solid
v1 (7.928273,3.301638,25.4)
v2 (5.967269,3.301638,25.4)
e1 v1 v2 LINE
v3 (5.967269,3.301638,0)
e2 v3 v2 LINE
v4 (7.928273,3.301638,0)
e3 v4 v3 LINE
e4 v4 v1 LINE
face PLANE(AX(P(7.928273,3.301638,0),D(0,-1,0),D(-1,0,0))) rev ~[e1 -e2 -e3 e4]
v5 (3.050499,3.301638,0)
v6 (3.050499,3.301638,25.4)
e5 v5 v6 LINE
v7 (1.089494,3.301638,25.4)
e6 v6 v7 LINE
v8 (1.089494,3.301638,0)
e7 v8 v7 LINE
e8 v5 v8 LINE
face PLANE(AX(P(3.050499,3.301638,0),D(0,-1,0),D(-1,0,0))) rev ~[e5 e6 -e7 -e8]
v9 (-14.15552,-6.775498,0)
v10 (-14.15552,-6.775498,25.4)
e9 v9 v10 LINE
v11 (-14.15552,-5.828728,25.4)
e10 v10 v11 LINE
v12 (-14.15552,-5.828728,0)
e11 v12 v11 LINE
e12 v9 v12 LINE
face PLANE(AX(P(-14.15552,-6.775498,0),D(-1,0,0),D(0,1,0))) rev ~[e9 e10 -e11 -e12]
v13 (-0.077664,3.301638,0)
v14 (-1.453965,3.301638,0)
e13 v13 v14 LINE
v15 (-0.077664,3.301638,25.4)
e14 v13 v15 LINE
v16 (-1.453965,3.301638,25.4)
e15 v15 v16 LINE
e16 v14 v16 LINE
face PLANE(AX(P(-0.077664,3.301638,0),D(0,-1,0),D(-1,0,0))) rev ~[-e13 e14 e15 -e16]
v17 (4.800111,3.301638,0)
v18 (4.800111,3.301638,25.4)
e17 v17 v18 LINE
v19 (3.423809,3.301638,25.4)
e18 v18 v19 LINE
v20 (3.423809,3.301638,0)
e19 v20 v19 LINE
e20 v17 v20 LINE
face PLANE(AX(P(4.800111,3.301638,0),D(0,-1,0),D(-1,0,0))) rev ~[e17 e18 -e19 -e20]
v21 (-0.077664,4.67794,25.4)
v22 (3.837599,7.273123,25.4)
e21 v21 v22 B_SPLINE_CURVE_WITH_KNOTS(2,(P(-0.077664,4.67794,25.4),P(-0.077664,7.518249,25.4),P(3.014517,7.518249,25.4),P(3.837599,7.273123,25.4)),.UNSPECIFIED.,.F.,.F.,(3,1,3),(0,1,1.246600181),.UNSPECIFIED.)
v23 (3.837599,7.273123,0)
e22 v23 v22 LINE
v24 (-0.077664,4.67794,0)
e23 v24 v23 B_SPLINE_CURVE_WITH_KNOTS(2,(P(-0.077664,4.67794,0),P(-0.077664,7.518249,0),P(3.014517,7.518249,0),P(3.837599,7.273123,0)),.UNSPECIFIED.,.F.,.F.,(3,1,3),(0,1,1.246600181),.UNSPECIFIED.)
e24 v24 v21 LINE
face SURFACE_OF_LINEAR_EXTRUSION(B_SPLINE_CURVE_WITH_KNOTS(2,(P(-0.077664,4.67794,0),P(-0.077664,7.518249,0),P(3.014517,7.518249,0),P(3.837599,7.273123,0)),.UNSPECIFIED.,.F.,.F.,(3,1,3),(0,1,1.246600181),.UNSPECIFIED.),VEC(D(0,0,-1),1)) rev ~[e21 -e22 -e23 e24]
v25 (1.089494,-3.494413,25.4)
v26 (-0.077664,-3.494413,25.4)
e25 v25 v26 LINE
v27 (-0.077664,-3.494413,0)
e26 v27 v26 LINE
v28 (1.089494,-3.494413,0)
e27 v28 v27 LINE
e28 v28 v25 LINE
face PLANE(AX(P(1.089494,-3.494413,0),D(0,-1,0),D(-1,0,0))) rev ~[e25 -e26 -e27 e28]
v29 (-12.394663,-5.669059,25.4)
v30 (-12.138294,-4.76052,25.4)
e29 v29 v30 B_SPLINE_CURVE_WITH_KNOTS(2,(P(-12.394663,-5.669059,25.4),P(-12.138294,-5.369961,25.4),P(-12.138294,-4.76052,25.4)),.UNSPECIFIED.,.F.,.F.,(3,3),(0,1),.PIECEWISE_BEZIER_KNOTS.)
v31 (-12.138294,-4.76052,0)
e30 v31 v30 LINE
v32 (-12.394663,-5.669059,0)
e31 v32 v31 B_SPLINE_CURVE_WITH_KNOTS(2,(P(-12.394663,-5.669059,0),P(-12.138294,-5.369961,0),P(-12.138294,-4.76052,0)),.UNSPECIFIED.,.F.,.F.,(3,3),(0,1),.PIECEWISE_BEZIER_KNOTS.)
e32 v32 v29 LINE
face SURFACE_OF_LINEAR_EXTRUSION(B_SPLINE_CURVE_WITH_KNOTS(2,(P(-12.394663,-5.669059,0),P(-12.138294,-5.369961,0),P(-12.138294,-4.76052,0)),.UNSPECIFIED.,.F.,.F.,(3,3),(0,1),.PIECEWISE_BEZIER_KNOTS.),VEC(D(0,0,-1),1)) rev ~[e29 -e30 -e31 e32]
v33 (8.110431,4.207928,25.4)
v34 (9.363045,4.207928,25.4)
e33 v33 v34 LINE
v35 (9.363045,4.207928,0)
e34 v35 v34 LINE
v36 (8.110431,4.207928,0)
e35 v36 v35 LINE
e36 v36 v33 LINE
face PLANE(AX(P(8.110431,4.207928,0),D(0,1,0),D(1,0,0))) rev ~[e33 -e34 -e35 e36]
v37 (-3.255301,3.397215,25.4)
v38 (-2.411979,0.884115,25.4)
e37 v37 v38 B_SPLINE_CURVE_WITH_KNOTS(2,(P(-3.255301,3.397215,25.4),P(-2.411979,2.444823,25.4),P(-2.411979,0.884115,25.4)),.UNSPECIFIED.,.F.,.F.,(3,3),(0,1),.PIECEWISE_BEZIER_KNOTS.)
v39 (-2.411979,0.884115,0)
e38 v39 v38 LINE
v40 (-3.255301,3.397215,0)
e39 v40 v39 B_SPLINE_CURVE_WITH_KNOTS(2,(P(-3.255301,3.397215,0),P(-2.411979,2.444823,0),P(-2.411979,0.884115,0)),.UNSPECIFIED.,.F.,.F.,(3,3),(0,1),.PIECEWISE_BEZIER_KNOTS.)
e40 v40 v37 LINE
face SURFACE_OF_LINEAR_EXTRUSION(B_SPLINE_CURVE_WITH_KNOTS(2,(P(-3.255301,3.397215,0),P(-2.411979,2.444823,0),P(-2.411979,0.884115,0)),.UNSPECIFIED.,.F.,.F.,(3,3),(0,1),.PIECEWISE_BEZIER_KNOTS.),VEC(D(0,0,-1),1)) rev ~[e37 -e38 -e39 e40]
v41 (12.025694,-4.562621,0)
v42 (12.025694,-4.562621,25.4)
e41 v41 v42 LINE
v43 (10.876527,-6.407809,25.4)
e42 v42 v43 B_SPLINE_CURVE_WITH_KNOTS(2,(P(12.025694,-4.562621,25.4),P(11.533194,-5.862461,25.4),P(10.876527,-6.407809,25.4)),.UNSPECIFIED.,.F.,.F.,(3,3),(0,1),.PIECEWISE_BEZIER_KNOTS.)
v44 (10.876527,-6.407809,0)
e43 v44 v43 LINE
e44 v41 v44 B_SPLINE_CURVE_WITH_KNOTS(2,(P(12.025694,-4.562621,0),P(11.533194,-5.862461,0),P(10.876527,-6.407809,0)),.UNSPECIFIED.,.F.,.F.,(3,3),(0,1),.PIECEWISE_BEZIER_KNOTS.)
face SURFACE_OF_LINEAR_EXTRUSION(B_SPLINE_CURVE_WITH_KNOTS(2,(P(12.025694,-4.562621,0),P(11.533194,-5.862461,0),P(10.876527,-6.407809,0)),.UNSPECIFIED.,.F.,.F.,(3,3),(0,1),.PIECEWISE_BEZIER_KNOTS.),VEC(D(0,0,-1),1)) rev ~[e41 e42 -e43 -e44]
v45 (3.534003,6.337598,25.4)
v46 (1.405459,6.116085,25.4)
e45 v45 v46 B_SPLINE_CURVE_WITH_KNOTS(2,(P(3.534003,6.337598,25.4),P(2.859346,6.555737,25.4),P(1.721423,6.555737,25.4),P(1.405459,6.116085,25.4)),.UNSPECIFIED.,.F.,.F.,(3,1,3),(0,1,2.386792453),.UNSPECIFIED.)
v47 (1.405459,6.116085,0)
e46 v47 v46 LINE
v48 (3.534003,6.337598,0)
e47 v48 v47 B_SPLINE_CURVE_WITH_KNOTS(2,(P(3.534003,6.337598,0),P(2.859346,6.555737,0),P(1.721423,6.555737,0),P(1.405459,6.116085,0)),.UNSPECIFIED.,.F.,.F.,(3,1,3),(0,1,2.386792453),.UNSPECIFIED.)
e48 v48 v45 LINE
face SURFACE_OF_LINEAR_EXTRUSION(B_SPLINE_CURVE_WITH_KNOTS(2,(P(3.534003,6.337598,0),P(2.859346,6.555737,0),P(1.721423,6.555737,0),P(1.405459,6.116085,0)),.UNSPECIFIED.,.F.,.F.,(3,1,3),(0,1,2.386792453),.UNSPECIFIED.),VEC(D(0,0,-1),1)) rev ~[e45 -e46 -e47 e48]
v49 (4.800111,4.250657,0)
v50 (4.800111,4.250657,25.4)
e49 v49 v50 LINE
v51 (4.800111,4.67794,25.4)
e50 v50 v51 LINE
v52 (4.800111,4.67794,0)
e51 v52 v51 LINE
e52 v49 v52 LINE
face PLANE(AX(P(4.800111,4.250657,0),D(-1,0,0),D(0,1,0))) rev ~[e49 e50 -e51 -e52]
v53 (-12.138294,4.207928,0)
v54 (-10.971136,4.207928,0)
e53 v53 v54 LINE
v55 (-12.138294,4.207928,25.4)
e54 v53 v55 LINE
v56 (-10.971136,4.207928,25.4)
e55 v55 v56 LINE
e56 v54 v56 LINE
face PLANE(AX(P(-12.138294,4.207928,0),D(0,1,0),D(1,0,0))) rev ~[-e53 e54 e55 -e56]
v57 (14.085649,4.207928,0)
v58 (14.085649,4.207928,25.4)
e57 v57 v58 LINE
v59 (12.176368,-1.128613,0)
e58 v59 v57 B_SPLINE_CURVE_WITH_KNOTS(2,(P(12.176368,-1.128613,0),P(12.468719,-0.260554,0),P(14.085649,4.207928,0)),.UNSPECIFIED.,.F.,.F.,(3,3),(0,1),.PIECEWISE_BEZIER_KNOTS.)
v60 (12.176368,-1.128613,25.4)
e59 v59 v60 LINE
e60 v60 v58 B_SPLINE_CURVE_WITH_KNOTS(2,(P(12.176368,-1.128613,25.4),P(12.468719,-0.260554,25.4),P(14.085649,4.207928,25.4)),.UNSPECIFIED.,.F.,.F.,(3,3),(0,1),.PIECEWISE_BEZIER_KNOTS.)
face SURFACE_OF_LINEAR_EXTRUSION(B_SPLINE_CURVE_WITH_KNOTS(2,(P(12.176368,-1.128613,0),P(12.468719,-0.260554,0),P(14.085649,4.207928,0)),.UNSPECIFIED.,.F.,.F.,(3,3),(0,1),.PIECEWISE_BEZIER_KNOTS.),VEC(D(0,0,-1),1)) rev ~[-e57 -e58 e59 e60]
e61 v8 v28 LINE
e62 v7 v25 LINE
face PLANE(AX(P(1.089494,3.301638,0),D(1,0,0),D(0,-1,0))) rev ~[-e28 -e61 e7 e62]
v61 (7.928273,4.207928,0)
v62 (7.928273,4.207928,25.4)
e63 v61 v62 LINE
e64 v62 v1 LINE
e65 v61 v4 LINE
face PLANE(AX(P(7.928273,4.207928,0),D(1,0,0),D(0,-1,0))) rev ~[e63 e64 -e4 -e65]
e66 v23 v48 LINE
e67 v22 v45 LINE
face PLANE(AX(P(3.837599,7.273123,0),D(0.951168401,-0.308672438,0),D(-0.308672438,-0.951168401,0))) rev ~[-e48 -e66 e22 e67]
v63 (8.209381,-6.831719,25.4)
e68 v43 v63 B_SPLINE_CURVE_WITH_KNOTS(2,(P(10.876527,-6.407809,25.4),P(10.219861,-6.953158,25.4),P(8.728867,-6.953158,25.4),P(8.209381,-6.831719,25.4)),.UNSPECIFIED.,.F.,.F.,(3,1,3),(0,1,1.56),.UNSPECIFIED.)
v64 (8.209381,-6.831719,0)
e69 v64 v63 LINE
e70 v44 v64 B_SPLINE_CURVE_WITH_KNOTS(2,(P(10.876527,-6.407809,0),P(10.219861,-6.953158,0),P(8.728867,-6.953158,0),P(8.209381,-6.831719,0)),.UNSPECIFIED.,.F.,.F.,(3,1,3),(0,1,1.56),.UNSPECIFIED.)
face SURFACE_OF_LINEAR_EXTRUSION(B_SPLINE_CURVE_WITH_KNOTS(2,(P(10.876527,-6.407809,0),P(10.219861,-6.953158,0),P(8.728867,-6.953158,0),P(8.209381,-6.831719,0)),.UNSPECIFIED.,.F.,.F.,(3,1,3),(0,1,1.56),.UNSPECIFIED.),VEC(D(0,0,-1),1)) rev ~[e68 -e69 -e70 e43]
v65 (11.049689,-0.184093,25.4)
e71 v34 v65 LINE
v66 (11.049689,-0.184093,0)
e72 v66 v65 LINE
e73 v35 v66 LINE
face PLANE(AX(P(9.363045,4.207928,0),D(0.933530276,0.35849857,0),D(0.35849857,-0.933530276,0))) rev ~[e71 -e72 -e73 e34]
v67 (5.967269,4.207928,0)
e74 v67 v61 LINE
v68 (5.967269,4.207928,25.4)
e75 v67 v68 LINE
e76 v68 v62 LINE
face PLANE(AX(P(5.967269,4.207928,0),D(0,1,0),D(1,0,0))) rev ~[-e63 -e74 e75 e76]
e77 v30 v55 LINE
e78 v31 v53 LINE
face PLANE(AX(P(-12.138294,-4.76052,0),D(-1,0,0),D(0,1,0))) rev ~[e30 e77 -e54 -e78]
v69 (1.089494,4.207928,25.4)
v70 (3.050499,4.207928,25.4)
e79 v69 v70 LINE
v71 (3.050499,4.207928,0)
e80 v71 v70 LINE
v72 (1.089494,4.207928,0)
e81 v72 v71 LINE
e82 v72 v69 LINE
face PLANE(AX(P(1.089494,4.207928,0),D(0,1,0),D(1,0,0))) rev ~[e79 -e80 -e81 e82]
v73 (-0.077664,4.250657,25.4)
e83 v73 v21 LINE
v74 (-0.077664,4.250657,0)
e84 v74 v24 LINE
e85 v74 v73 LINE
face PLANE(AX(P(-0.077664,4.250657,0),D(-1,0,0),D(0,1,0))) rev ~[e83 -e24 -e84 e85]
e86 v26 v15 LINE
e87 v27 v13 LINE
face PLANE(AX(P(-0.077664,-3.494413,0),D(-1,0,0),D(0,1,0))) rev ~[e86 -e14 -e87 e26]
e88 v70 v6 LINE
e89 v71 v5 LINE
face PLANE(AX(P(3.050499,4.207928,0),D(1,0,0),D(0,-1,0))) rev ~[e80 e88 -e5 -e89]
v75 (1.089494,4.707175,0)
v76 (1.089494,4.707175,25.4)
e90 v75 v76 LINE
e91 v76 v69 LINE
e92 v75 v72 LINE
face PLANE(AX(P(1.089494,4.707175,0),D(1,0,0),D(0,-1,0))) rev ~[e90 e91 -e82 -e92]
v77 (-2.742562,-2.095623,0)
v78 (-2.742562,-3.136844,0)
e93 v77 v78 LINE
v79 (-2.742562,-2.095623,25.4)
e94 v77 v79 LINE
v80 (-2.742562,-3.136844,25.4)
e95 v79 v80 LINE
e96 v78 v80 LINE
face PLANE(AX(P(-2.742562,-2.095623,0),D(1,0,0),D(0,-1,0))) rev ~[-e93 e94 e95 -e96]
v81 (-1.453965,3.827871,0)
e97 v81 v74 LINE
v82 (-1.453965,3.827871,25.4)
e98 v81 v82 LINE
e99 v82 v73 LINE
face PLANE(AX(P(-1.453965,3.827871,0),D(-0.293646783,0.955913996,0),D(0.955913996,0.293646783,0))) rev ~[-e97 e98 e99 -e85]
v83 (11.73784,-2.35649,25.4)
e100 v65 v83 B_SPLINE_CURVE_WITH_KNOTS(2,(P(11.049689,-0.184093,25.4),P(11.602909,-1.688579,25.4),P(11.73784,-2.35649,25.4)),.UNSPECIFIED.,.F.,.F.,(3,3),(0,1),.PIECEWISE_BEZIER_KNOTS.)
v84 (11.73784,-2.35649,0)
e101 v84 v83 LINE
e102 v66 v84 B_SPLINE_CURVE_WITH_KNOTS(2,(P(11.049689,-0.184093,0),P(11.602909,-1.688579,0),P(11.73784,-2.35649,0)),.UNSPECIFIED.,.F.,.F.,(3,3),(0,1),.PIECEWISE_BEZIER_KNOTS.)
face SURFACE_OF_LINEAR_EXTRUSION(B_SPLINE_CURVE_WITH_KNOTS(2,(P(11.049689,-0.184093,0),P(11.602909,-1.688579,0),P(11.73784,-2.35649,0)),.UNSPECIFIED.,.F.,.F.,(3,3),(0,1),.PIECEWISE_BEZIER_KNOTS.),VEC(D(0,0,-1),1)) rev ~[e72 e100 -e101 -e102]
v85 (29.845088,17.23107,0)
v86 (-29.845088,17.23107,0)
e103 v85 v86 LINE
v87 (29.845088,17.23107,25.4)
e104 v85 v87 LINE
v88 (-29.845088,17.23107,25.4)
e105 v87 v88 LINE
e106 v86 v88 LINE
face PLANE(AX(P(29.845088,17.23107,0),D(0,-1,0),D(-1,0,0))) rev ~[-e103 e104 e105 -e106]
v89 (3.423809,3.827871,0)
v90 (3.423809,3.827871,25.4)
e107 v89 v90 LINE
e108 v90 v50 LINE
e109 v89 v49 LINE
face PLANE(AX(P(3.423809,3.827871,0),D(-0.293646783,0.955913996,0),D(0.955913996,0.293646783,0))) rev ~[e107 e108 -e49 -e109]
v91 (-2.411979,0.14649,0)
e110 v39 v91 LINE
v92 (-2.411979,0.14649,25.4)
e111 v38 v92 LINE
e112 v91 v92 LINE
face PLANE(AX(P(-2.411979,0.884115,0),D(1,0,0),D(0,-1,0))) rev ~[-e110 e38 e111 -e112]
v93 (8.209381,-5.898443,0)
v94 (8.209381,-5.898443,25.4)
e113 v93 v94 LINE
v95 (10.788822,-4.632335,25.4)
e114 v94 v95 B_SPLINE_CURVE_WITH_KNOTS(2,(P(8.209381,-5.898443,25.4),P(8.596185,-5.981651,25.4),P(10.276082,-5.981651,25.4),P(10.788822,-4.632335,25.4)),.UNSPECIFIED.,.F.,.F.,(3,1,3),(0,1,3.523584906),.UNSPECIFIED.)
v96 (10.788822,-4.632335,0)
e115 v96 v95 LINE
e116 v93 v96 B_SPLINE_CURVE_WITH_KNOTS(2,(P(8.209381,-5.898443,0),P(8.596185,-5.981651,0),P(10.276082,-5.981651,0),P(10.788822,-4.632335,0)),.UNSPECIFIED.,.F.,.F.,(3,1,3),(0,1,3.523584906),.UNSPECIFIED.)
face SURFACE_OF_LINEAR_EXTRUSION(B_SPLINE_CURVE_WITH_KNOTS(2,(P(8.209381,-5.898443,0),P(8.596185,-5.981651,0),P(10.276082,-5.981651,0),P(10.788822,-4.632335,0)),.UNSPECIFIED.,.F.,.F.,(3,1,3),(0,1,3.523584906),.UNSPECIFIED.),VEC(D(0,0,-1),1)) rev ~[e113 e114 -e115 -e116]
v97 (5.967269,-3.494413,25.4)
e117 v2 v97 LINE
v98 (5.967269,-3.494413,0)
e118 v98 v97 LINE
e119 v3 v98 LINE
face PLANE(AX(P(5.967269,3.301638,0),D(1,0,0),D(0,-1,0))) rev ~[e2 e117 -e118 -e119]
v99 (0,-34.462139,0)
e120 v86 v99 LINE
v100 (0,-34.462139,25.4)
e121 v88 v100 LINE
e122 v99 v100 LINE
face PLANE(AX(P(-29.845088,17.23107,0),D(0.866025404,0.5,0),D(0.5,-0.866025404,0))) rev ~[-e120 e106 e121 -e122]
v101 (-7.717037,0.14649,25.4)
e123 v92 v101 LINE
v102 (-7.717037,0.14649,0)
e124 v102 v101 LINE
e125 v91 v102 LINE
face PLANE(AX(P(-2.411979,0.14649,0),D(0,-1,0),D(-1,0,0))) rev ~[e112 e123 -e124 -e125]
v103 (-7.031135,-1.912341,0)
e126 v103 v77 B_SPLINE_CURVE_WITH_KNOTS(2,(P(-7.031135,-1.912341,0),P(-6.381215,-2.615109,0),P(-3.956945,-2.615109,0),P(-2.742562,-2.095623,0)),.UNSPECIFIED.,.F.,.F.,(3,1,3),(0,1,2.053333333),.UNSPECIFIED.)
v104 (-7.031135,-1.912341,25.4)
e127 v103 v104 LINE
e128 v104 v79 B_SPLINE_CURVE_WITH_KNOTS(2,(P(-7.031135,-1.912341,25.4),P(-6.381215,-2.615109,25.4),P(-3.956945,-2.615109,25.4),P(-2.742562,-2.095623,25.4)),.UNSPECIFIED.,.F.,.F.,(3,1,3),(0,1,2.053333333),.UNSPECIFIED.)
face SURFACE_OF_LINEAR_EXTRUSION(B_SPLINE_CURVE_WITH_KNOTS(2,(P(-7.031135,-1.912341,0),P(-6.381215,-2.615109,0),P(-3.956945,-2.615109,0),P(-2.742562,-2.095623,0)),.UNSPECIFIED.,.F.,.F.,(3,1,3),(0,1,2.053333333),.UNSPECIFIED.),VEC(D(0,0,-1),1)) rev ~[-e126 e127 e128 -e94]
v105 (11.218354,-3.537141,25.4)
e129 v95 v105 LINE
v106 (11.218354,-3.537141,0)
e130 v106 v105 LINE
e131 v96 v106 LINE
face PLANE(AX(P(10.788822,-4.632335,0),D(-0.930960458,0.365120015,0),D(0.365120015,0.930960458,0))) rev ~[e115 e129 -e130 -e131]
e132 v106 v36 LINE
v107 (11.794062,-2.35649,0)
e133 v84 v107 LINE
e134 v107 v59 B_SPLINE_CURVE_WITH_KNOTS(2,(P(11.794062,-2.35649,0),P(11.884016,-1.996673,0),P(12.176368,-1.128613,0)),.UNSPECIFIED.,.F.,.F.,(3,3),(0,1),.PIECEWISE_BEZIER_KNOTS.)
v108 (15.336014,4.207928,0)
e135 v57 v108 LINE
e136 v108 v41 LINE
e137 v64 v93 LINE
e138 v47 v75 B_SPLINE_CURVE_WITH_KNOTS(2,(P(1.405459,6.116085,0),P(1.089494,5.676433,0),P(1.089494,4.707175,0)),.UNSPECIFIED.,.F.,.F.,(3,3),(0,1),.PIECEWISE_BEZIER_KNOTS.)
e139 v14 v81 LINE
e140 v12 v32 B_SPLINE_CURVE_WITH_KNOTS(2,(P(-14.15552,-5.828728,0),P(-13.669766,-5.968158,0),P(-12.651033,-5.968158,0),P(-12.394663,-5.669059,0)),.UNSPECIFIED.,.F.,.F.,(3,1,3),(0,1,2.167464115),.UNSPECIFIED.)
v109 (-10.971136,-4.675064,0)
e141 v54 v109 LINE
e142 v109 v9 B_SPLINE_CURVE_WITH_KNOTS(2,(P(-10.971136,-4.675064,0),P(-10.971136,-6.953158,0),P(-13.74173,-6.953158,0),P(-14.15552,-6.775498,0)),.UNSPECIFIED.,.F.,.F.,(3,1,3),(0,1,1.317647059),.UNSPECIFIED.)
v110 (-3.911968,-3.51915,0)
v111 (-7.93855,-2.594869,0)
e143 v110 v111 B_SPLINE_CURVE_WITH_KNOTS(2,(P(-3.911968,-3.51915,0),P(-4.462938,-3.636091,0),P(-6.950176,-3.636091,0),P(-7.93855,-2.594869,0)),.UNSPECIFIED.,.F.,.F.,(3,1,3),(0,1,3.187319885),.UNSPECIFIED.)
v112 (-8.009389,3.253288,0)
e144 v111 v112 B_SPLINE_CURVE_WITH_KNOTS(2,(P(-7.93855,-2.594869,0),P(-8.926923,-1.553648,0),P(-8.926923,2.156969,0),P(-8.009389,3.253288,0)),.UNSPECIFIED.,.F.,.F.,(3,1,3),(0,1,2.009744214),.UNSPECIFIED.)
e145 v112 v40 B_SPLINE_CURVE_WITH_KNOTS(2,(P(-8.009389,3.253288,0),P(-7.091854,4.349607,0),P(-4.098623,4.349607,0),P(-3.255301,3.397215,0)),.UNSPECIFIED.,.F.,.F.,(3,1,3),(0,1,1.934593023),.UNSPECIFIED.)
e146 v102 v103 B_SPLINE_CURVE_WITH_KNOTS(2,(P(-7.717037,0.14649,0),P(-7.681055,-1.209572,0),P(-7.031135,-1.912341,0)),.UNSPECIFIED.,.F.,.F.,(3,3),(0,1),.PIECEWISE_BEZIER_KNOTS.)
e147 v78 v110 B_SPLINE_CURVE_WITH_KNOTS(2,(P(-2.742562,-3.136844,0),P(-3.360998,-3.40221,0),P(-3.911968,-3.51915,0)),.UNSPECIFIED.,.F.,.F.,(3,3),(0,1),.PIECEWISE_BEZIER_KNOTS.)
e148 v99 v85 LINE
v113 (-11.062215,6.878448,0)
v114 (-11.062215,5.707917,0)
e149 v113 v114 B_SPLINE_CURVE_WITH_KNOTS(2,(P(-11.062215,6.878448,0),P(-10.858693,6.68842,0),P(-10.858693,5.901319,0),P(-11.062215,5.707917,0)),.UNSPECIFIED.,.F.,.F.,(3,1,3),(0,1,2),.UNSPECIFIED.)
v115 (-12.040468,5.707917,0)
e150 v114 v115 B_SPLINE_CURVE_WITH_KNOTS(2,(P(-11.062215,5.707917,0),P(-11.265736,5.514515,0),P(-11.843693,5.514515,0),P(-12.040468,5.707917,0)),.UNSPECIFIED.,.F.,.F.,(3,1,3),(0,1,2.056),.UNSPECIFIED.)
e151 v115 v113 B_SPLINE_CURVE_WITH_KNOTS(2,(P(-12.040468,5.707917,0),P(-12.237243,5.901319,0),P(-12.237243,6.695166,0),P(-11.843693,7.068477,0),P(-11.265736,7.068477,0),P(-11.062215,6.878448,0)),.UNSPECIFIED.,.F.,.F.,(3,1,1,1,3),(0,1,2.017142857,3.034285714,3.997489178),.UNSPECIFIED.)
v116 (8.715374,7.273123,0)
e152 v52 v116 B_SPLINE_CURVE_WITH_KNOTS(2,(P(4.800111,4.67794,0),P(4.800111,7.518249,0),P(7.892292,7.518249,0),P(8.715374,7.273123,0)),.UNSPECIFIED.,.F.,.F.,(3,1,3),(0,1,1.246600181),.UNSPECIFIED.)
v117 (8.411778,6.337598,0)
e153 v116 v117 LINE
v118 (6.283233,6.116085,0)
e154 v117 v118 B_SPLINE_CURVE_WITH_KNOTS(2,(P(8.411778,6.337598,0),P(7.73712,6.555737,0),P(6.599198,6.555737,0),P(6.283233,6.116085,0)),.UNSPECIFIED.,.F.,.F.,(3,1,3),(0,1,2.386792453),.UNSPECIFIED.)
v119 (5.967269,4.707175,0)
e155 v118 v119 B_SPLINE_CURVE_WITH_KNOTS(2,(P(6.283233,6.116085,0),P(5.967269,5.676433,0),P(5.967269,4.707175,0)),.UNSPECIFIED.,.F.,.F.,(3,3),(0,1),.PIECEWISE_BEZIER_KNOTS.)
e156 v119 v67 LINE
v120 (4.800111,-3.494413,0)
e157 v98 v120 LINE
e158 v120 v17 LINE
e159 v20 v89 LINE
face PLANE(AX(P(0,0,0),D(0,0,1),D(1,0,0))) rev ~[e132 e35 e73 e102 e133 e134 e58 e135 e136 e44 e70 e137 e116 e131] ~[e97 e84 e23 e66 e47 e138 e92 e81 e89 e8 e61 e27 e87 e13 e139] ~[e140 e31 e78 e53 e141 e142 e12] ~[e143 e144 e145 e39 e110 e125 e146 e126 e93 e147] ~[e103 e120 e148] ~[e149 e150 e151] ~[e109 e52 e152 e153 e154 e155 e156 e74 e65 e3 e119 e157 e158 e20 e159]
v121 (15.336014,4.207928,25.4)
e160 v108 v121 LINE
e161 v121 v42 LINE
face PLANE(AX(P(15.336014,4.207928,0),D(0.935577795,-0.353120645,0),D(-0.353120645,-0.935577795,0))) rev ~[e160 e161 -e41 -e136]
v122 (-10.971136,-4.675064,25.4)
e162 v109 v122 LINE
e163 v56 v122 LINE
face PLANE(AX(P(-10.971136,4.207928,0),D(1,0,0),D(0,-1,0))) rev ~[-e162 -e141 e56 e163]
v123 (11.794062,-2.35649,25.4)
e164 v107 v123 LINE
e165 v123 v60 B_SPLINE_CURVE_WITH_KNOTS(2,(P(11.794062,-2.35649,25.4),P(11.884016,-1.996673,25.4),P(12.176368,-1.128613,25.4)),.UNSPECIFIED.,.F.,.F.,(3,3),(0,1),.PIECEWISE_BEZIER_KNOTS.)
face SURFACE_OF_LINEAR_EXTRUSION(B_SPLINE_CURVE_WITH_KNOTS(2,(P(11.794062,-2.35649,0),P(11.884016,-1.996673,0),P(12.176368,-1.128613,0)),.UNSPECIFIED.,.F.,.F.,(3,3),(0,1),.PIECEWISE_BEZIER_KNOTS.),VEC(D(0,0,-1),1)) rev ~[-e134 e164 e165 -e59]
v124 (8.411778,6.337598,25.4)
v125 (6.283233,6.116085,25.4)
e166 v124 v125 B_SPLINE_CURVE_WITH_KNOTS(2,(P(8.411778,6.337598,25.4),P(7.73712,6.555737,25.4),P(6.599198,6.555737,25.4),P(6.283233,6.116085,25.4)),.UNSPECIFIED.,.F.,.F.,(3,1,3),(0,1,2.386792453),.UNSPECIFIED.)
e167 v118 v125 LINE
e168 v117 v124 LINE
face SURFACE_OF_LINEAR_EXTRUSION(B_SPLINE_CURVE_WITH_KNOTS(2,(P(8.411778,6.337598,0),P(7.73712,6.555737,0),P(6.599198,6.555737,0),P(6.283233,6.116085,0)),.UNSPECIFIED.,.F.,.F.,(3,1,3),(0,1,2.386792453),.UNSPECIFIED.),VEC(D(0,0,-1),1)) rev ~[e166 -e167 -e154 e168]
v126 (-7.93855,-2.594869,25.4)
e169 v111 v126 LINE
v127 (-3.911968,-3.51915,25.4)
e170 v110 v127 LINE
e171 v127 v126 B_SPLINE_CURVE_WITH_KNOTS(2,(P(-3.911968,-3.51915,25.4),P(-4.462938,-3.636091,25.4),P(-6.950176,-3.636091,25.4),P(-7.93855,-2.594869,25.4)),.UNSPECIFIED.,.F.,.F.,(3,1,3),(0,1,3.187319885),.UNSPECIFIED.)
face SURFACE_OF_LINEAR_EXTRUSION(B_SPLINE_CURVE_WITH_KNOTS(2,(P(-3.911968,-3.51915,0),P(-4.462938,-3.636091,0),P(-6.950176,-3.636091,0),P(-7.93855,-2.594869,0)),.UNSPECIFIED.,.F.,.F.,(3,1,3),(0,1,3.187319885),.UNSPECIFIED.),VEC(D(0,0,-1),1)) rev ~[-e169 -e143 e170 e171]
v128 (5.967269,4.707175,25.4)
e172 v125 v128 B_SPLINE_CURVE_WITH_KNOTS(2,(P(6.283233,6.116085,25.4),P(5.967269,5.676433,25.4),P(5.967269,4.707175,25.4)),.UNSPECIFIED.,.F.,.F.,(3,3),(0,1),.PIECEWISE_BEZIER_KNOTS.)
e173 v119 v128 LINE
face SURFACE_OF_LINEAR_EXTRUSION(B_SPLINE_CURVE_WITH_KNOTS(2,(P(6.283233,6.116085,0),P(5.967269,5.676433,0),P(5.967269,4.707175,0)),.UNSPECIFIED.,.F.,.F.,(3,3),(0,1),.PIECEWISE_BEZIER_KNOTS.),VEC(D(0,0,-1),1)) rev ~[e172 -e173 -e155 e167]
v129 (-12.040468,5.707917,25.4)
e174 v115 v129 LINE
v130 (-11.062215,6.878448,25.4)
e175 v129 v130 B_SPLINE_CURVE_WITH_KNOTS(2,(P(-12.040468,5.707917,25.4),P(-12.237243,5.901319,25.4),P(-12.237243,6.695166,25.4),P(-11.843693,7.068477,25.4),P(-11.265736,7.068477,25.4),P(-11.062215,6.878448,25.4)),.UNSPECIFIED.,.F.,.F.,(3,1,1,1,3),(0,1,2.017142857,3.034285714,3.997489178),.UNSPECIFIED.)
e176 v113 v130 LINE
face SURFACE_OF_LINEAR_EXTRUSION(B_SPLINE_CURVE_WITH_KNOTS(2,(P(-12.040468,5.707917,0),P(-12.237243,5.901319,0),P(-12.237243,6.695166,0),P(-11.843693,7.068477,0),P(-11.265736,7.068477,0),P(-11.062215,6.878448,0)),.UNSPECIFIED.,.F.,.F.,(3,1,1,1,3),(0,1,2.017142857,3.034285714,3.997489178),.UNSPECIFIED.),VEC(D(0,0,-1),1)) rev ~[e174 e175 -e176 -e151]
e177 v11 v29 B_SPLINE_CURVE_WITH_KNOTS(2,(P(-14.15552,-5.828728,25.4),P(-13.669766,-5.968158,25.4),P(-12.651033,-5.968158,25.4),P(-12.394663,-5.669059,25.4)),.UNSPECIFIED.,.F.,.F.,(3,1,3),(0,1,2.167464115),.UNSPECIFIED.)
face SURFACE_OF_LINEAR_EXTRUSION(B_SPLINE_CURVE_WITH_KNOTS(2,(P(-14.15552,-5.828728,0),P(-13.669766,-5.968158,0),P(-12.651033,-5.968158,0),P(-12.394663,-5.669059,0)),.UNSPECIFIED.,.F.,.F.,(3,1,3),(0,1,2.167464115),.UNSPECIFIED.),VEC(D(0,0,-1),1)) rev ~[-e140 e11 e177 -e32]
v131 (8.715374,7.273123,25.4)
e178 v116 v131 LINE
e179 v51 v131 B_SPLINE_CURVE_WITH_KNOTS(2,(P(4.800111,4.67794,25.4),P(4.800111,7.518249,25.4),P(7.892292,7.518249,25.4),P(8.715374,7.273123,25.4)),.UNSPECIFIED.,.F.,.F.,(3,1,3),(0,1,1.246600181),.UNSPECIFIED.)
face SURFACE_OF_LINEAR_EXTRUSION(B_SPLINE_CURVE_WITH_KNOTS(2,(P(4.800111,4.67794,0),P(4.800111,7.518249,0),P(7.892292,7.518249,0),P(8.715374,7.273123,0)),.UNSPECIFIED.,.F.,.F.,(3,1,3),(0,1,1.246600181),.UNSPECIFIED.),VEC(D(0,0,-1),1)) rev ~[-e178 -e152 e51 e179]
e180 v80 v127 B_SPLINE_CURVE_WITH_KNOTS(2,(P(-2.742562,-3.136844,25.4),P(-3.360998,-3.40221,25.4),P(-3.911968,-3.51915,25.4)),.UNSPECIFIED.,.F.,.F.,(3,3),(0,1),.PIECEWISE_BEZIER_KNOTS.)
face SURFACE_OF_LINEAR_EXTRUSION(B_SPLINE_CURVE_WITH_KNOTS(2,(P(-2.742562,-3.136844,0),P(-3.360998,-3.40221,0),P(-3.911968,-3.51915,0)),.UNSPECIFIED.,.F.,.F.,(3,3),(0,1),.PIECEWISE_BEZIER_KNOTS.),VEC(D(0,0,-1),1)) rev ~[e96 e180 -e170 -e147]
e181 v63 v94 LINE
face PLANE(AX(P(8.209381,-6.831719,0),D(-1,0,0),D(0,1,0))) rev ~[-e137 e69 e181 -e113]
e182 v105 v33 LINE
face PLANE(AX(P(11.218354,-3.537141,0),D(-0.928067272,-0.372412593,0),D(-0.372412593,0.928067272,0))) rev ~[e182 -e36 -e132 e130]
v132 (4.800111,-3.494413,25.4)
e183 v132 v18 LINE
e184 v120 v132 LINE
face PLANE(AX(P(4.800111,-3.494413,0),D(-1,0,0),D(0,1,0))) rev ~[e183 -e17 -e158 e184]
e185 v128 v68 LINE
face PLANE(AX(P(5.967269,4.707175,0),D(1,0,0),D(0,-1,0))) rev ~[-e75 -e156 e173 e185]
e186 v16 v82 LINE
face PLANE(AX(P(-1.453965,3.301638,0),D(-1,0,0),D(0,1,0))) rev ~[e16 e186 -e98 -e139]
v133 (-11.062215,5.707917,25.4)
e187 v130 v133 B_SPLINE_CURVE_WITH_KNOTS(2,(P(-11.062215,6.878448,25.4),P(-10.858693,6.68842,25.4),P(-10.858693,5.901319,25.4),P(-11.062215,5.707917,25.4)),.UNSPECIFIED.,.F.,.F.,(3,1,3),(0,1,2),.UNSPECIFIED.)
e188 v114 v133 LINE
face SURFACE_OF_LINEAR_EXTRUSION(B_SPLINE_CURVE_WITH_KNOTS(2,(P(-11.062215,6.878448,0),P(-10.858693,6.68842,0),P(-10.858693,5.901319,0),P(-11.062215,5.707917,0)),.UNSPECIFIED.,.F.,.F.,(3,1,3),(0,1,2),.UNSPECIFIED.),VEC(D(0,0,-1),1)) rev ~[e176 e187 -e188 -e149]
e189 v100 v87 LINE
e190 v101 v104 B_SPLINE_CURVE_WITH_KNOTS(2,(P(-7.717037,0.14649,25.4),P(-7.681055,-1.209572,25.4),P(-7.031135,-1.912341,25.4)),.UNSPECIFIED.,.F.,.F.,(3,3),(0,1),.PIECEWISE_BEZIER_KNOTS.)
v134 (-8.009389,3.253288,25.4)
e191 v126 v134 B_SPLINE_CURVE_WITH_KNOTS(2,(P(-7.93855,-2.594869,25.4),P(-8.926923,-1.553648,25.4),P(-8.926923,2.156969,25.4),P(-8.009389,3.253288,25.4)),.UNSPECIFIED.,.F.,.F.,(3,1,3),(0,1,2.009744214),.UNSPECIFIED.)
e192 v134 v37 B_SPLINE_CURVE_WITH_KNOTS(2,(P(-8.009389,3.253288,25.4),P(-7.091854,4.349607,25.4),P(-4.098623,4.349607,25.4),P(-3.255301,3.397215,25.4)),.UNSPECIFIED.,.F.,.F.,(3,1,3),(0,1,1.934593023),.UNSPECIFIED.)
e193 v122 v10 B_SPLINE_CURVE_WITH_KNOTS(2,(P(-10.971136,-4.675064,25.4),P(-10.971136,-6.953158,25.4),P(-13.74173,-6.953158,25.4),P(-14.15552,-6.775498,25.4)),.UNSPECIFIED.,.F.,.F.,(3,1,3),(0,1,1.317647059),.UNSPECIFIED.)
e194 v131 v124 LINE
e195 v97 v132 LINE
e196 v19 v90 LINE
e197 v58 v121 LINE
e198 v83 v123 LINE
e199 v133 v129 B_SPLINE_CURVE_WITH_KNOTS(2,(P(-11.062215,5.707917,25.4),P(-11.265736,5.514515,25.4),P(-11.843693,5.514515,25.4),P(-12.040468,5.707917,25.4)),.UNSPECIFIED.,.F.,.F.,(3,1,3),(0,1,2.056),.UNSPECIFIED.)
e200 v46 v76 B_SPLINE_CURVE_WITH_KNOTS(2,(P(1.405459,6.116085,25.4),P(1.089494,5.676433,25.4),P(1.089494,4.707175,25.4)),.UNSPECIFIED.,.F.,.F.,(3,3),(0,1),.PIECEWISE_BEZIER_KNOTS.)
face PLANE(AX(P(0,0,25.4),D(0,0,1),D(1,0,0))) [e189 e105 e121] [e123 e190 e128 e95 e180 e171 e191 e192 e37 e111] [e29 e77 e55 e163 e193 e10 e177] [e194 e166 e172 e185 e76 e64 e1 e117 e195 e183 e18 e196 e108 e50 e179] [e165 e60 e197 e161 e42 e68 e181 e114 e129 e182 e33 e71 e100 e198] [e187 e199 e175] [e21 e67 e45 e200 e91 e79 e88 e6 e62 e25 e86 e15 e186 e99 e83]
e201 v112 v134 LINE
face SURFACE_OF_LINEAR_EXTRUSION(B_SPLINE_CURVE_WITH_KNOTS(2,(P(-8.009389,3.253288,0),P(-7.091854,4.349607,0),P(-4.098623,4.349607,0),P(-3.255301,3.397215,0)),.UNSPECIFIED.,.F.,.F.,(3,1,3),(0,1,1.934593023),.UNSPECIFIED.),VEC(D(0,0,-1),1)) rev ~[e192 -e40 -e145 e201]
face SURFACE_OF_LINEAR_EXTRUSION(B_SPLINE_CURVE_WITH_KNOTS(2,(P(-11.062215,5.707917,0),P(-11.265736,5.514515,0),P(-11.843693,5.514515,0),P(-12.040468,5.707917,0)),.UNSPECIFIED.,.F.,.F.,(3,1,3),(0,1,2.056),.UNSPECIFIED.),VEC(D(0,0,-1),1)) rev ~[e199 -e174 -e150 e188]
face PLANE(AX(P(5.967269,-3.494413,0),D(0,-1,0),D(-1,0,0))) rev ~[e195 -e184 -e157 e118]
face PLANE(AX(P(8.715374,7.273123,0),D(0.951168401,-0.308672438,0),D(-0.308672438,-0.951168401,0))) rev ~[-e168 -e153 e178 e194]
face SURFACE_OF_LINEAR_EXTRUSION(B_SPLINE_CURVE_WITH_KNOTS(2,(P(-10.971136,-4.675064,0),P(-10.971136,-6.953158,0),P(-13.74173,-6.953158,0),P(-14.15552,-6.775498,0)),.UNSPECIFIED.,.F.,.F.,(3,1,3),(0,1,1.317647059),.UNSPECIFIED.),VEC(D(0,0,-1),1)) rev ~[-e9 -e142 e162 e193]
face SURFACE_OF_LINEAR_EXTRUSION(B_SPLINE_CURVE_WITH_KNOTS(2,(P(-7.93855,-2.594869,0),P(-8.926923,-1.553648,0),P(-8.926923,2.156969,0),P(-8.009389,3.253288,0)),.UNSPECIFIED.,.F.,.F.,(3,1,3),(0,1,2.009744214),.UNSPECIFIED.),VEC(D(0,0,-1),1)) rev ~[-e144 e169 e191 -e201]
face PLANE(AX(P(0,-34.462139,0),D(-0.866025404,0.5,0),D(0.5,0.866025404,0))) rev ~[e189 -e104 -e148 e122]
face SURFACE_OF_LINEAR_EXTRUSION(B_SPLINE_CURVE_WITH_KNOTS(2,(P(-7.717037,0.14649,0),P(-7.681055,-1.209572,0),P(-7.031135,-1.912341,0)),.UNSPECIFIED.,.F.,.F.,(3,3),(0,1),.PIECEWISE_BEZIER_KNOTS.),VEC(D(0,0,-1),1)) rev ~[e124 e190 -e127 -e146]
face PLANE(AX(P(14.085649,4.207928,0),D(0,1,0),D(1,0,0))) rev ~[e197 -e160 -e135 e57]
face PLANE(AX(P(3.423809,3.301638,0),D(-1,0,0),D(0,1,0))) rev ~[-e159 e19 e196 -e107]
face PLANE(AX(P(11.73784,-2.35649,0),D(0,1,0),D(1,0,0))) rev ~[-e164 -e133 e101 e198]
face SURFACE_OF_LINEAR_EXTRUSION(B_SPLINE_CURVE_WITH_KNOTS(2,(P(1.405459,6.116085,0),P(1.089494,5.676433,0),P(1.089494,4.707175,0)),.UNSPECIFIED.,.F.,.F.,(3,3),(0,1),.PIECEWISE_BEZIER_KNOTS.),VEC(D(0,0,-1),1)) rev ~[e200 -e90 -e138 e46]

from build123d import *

# Parameters (mm, degrees)
F1_DEPTH = 25.4


with BuildPart() as f1:
    # F0 (on Top) → F1 (new body)
    with BuildSketch(Plane.XY):
        Polygon((29.8450878518, 17.2310695052), (-29.8450878518, 17.2310695052), (0, -34.4621390104), align=None)
        with BuildLine():
            add(Edge.make_bspline(
                [(-10.9711358257, -4.6750637359), (-10.9711358257, -6.9531576902), (-13.0738187944, -6.9531576902)],
                knots=[0, 0, 0, 1, 1, 1], degree=2))
            add(Edge.make_bspline(
                [(-13.0738187944, -6.9531576902), (-13.7417298551, -6.9531576902), (-14.1555198724, -6.7754978458)],
                knots=[0, 0, 0, 1, 1, 1], degree=2))
            Line((-14.1555198724, -6.7754978458), (-14.1555198724, -5.8287282952))
            add(Edge.make_bspline(
                [(-14.1555198724, -5.8287282952), (-13.6697663738, -5.9681575401), (-13.1997548867, -5.9681575401)],
                knots=[0, 0, 0, 1, 1, 1], degree=2))
            add(Edge.make_bspline(
                [(-13.1997548867, -5.9681575401), (-12.6510333419, -5.9681575401), (-12.3946634398, -5.6690593211)],
                knots=[0, 0, 0, 1, 1, 1], degree=2))
            add(Edge.make_bspline(
                [(-12.3946634398, -5.6690593211), (-12.1382935377, -5.369961102), (-12.1382935377, -4.7605203699)],
                knots=[0, 0, 0, 1, 1, 1], degree=2))
            Line((-12.1382935377, -4.7605203699), (-12.1382935377, 4.2079284849))
            Line((-12.1382935377, 4.2079284849), (-10.9711358257, 4.2079284849))
            Line((-10.9711358257, 4.2079284849), (-10.9711358257, -4.6750637359))
        make_face(mode=Mode.SUBTRACT)
        with BuildLine():
            add(Edge.make_bspline(
                [(-3.9119680837, -3.5191503178), (-4.4629384873, -3.6360909749), (-5.2432924874, -3.6360909749)],
                knots=[0, 0, 0, 1, 1, 1], degree=2))
            add(Edge.make_bspline(
                [(-5.2432924874, -3.6360909749), (-6.9501763091, -3.6360909749), (-7.9385497473, -2.5948693551)],
                knots=[0, 0, 0, 1, 1, 1], degree=2))
            add(Edge.make_bspline(
                [(-7.9385497473, -2.5948693551), (-8.9269231856, -1.5536477353), (-8.9269231856, 0.2926653314)],
                knots=[0, 0, 0, 1, 1, 1], degree=2))
            add(Edge.make_bspline(
                [(-8.9269231856, 0.2926653314), (-8.9269231856, 2.1569692683), (-8.0093887992, 3.2532879285)],
                knots=[0, 0, 0, 1, 1, 1], degree=2))
            add(Edge.make_bspline(
                [(-8.0093887992, 3.2532879285), (-7.0918544129, 4.3496065886), (-5.5446395653, 4.3496065886)],
                knots=[0, 0, 0, 1, 1, 1], degree=2))
            add(Edge.make_bspline(
                [(-5.5446395653, 4.3496065886), (-4.0986233633, 4.3496065886), (-3.255301317, 3.397214891)],
                knots=[0, 0, 0, 1, 1, 1], degree=2))
            add(Edge.make_bspline(
                [(-3.255301317, 3.397214891), (-2.4119792708, 2.4448231935), (-2.4119792708, 0.8841151932)],
                knots=[0, 0, 0, 1, 1, 1], degree=2))
            Line((-2.4119792708, 0.8841151932), (-2.4119792708, 0.14648951))
            Line((-2.4119792708, 0.14648951), (-7.7170371565, 0.14648951))
            add(Edge.make_bspline(
                [(-7.7170371565, 0.14648951), (-7.6810554159, -1.2095723404), (-7.0311352255, -1.9123407123)],
                knots=[0, 0, 0, 1, 1, 1], degree=2))
            add(Edge.make_bspline(
                [(-7.0311352255, -1.9123407123), (-6.3812150352, -2.6151090842), (-5.2005641704, -2.6151090842)],
                knots=[0, 0, 0, 1, 1, 1], degree=2))
            add(Edge.make_bspline(
                [(-5.2005641704, -2.6151090842), (-3.9569452595, -2.6151090842), (-2.7425615129, -2.0956227037)],
                knots=[0, 0, 0, 1, 1, 1], degree=2))
            Line((-2.7425615129, -2.0956227037), (-2.7425615129, -3.1368443235))
            add(Edge.make_bspline(
                [(-2.7425615129, -3.1368443235), (-3.3609976802, -3.4022096607), (-3.9119680837, -3.5191503178)],
                knots=[0, 0, 0, 1, 1, 1], degree=2))
        make_face(mode=Mode.SUBTRACT)
        with BuildLine():
            add(Edge.make_bspline(
                [(-12.0404681804, 5.7079172978), (-12.2372433245, 5.9013191538), (-12.2372433245, 6.294869442)],
                knots=[0, 0, 0, 1, 1, 1], degree=2))
            add(Edge.make_bspline(
                [(-12.2372433245, 6.294869442), (-12.2372433245, 6.6951663066), (-12.0404681804, 6.8818215862)],
                knots=[0, 0, 0, 1, 1, 1], degree=2))
            add(Edge.make_bspline(
                [(-12.0404681804, 6.8818215862), (-11.8436930363, 7.0684768658), (-11.546843676, 7.0684768658)],
                knots=[0, 0, 0, 1, 1, 1], degree=2))
            add(Edge.make_bspline(
                [(-11.546843676, 7.0684768658), (-11.2657363272, 7.0684768658), (-11.0622146067, 6.878448298)],
                knots=[0, 0, 0, 1, 1, 1], degree=2))
            add(Edge.make_bspline(
                [(-11.0622146067, 6.878448298), (-10.8586928862, 6.6884197303), (-10.8586928862, 6.294869442)],
                knots=[0, 0, 0, 1, 1, 1], degree=2))
            add(Edge.make_bspline(
                [(-10.8586928862, 6.294869442), (-10.8586928862, 5.9013191538), (-11.0622146067, 5.7079172978)],
                knots=[0, 0, 0, 1, 1, 1], degree=2))
            add(Edge.make_bspline(
                [(-11.0622146067, 5.7079172978), (-11.2657363272, 5.5145154419), (-11.546843676, 5.5145154419)],
                knots=[0, 0, 0, 1, 1, 1], degree=2))
            add(Edge.make_bspline(
                [(-11.546843676, 5.5145154419), (-11.8436930363, 5.5145154419), (-12.0404681804, 5.7079172978)],
                knots=[0, 0, 0, 1, 1, 1], degree=2))
        make_face(mode=Mode.SUBTRACT)
        with BuildLine():
            Line((3.0504987303, 4.2079284849), (3.0504987303, 3.3016383925))
            Line((3.0504987303, 3.3016383925), (1.0894938653, 3.3016383925))
            Line((1.0894938653, 3.3016383925), (1.0894938653, -3.4944128711))
            Line((1.0894938653, -3.4944128711), (-0.0776638467, -3.4944128711))
            Line((-0.0776638467, -3.4944128711), (-0.0776638467, 3.3016383925))
            Line((-0.0776638467, 3.3016383925), (-1.4539654262, 3.3016383925))
            Line((-1.4539654262, 3.3016383925), (-1.4539654262, 3.8278713493))
            Line((-1.4539654262, 3.8278713493), (-0.0776638467, 4.2506568019))
            Line((-0.0776638467, 4.2506568019), (-0.0776638467, 4.677939972))
            add(Edge.make_bspline(
                [(-0.0776638467, 4.677939972), (-0.0776638467, 7.5182486238), (2.4028273987, 7.5182486238)],
                knots=[0, 0, 0, 1, 1, 1], degree=2))
            add(Edge.make_bspline(
                [(2.4028273987, 7.5182486238), (3.0145169896, 7.5182486238), (3.8375993068, 7.2731230157)],
                knots=[0, 0, 0, 1, 1, 1], degree=2))
            Line((3.8375993068, 7.2731230157), (3.5340033701, 6.337597759))
            add(Edge.make_bspline(
                [(3.5340033701, 6.337597759), (2.8593457331, 6.5557370617), (2.3825876696, 6.5557370617)],
                knots=[0, 0, 0, 1, 1, 1], degree=2))
            add(Edge.make_bspline(
                [(2.3825876696, 6.5557370617), (1.7214231853, 6.5557370617), (1.4054585253, 6.1160851682)],
                knots=[0, 0, 0, 1, 1, 1], degree=2))
            add(Edge.make_bspline(
                [(1.4054585253, 6.1160851682), (1.0894938653, 5.6764332748), (1.0894938653, 4.7071751362)],
                knots=[0, 0, 0, 1, 1, 1], degree=2))
            Line((1.0894938653, 4.7071751362), (1.0894938653, 4.2079284849))
            Line((1.0894938653, 4.2079284849), (3.0504987303, 4.2079284849))
        make_face(mode=Mode.SUBTRACT)
        with BuildLine():
            Line((7.9282734459, 4.2079284849), (7.9282734459, 3.3016383925))
            Line((7.9282734459, 3.3016383925), (5.967268581, 3.3016383925))
            Line((5.967268581, 3.3016383925), (5.967268581, -3.4944128711))
            Line((5.967268581, -3.4944128711), (4.8001108689, -3.4944128711))
            Line((4.8001108689, -3.4944128711), (4.8001108689, 3.3016383925))
            Line((4.8001108689, 3.3016383925), (3.4238092894, 3.3016383925))
            Line((3.4238092894, 3.3016383925), (3.4238092894, 3.8278713493))
            Line((3.4238092894, 3.8278713493), (4.8001108689, 4.2506568019))
            Line((4.8001108689, 4.2506568019), (4.8001108689, 4.677939972))
            add(Edge.make_bspline(
                [(4.8001108689, 4.677939972), (4.8001108689, 7.5182486238), (7.2806021144, 7.5182486238)],
                knots=[0, 0, 0, 1, 1, 1], degree=2))
            add(Edge.make_bspline(
                [(7.2806021144, 7.5182486238), (7.8922917052, 7.5182486238), (8.7153740224, 7.2731230157)],
                knots=[0, 0, 0, 1, 1, 1], degree=2))
            Line((8.7153740224, 7.2731230157), (8.4117780858, 6.337597759))
            add(Edge.make_bspline(
                [(8.4117780858, 6.337597759), (7.7371204487, 6.5557370617), (7.2603623852, 6.5557370617)],
                knots=[0, 0, 0, 1, 1, 1], degree=2))
            add(Edge.make_bspline(
                [(7.2603623852, 6.5557370617), (6.599197901, 6.5557370617), (6.283233241, 6.1160851682)],
                knots=[0, 0, 0, 1, 1, 1], degree=2))
            add(Edge.make_bspline(
                [(6.283233241, 6.1160851682), (5.967268581, 5.6764332748), (5.967268581, 4.7071751362)],
                knots=[0, 0, 0, 1, 1, 1], degree=2))
            Line((5.967268581, 4.7071751362), (5.967268581, 4.2079284849))
            Line((5.967268581, 4.2079284849), (7.9282734459, 4.2079284849))
        make_face(mode=Mode.SUBTRACT)
        with BuildLine():
            Line((11.2183538557, -3.5371411881), (8.1104310079, 4.2079284849))
            Line((8.1104310079, 4.2079284849), (9.3630453539, 4.2079284849))
            Line((9.3630453539, 4.2079284849), (11.0496894465, -0.1840927321))
            add(Edge.make_bspline(
                [(11.0496894465, -0.1840927321), (11.6029087088, -1.6885792627), (11.7378402362, -2.3564903233)],
                knots=[0, 0, 0, 1, 1, 1], degree=2))
            Line((11.7378402362, -2.3564903233), (11.794061706, -2.3564903233))
            add(Edge.make_bspline(
                [(11.794061706, -2.3564903233), (11.8840160576, -1.9966729169), (12.1763677003, -1.1286134239)],
                knots=[0, 0, 0, 1, 1, 1], degree=2))
            add(Edge.make_bspline(
                [(12.1763677003, -1.1286134239), (12.468719343, -0.260553931), (14.0856488131, 4.2079284849)],
                knots=[0, 0, 0, 1, 1, 1], degree=2))
            Line((14.0856488131, 4.2079284849), (15.3360143003, 4.2079284849))
            Line((15.3360143003, 4.2079284849), (12.0256941614, -4.5626207964))
            add(Edge.make_bspline(
                [(12.0256941614, -4.5626207964), (11.5331940863, -5.862461177), (10.8765273196, -6.4078094336)],
                knots=[0, 0, 0, 1, 1, 1], degree=2))
            add(Edge.make_bspline(
                [(10.8765273196, -6.4078094336), (10.219860553, -6.9531576902), (9.2640955672, -6.9531576902)],
                knots=[0, 0, 0, 1, 1, 1], degree=2))
            add(Edge.make_bspline(
                [(9.2640955672, -6.9531576902), (8.7288671751, -6.9531576902), (8.2093807946, -6.8317193155)],
                knots=[0, 0, 0, 1, 1, 1], degree=2))
            Line((8.2093807946, -6.8317193155), (8.2093807946, -5.8984429176))
            add(Edge.make_bspline(
                [(8.2093807946, -5.8984429176), (8.5961845065, -5.9816506929), (9.07294257, -5.9816506929)],
                knots=[0, 0, 0, 1, 1, 1], degree=2))
            add(Edge.make_bspline(
                [(9.07294257, -5.9816506929), (10.2760820227, -5.9816506929), (10.7888218268, -4.6323354188)],
                knots=[0, 0, 0, 1, 1, 1], degree=2))
            Line((10.7888218268, -4.6323354188), (11.2183538557, -3.5371411881))
        make_face(mode=Mode.SUBTRACT)
    extrude(amount=F1_DEPTH)


solid = f1.part
